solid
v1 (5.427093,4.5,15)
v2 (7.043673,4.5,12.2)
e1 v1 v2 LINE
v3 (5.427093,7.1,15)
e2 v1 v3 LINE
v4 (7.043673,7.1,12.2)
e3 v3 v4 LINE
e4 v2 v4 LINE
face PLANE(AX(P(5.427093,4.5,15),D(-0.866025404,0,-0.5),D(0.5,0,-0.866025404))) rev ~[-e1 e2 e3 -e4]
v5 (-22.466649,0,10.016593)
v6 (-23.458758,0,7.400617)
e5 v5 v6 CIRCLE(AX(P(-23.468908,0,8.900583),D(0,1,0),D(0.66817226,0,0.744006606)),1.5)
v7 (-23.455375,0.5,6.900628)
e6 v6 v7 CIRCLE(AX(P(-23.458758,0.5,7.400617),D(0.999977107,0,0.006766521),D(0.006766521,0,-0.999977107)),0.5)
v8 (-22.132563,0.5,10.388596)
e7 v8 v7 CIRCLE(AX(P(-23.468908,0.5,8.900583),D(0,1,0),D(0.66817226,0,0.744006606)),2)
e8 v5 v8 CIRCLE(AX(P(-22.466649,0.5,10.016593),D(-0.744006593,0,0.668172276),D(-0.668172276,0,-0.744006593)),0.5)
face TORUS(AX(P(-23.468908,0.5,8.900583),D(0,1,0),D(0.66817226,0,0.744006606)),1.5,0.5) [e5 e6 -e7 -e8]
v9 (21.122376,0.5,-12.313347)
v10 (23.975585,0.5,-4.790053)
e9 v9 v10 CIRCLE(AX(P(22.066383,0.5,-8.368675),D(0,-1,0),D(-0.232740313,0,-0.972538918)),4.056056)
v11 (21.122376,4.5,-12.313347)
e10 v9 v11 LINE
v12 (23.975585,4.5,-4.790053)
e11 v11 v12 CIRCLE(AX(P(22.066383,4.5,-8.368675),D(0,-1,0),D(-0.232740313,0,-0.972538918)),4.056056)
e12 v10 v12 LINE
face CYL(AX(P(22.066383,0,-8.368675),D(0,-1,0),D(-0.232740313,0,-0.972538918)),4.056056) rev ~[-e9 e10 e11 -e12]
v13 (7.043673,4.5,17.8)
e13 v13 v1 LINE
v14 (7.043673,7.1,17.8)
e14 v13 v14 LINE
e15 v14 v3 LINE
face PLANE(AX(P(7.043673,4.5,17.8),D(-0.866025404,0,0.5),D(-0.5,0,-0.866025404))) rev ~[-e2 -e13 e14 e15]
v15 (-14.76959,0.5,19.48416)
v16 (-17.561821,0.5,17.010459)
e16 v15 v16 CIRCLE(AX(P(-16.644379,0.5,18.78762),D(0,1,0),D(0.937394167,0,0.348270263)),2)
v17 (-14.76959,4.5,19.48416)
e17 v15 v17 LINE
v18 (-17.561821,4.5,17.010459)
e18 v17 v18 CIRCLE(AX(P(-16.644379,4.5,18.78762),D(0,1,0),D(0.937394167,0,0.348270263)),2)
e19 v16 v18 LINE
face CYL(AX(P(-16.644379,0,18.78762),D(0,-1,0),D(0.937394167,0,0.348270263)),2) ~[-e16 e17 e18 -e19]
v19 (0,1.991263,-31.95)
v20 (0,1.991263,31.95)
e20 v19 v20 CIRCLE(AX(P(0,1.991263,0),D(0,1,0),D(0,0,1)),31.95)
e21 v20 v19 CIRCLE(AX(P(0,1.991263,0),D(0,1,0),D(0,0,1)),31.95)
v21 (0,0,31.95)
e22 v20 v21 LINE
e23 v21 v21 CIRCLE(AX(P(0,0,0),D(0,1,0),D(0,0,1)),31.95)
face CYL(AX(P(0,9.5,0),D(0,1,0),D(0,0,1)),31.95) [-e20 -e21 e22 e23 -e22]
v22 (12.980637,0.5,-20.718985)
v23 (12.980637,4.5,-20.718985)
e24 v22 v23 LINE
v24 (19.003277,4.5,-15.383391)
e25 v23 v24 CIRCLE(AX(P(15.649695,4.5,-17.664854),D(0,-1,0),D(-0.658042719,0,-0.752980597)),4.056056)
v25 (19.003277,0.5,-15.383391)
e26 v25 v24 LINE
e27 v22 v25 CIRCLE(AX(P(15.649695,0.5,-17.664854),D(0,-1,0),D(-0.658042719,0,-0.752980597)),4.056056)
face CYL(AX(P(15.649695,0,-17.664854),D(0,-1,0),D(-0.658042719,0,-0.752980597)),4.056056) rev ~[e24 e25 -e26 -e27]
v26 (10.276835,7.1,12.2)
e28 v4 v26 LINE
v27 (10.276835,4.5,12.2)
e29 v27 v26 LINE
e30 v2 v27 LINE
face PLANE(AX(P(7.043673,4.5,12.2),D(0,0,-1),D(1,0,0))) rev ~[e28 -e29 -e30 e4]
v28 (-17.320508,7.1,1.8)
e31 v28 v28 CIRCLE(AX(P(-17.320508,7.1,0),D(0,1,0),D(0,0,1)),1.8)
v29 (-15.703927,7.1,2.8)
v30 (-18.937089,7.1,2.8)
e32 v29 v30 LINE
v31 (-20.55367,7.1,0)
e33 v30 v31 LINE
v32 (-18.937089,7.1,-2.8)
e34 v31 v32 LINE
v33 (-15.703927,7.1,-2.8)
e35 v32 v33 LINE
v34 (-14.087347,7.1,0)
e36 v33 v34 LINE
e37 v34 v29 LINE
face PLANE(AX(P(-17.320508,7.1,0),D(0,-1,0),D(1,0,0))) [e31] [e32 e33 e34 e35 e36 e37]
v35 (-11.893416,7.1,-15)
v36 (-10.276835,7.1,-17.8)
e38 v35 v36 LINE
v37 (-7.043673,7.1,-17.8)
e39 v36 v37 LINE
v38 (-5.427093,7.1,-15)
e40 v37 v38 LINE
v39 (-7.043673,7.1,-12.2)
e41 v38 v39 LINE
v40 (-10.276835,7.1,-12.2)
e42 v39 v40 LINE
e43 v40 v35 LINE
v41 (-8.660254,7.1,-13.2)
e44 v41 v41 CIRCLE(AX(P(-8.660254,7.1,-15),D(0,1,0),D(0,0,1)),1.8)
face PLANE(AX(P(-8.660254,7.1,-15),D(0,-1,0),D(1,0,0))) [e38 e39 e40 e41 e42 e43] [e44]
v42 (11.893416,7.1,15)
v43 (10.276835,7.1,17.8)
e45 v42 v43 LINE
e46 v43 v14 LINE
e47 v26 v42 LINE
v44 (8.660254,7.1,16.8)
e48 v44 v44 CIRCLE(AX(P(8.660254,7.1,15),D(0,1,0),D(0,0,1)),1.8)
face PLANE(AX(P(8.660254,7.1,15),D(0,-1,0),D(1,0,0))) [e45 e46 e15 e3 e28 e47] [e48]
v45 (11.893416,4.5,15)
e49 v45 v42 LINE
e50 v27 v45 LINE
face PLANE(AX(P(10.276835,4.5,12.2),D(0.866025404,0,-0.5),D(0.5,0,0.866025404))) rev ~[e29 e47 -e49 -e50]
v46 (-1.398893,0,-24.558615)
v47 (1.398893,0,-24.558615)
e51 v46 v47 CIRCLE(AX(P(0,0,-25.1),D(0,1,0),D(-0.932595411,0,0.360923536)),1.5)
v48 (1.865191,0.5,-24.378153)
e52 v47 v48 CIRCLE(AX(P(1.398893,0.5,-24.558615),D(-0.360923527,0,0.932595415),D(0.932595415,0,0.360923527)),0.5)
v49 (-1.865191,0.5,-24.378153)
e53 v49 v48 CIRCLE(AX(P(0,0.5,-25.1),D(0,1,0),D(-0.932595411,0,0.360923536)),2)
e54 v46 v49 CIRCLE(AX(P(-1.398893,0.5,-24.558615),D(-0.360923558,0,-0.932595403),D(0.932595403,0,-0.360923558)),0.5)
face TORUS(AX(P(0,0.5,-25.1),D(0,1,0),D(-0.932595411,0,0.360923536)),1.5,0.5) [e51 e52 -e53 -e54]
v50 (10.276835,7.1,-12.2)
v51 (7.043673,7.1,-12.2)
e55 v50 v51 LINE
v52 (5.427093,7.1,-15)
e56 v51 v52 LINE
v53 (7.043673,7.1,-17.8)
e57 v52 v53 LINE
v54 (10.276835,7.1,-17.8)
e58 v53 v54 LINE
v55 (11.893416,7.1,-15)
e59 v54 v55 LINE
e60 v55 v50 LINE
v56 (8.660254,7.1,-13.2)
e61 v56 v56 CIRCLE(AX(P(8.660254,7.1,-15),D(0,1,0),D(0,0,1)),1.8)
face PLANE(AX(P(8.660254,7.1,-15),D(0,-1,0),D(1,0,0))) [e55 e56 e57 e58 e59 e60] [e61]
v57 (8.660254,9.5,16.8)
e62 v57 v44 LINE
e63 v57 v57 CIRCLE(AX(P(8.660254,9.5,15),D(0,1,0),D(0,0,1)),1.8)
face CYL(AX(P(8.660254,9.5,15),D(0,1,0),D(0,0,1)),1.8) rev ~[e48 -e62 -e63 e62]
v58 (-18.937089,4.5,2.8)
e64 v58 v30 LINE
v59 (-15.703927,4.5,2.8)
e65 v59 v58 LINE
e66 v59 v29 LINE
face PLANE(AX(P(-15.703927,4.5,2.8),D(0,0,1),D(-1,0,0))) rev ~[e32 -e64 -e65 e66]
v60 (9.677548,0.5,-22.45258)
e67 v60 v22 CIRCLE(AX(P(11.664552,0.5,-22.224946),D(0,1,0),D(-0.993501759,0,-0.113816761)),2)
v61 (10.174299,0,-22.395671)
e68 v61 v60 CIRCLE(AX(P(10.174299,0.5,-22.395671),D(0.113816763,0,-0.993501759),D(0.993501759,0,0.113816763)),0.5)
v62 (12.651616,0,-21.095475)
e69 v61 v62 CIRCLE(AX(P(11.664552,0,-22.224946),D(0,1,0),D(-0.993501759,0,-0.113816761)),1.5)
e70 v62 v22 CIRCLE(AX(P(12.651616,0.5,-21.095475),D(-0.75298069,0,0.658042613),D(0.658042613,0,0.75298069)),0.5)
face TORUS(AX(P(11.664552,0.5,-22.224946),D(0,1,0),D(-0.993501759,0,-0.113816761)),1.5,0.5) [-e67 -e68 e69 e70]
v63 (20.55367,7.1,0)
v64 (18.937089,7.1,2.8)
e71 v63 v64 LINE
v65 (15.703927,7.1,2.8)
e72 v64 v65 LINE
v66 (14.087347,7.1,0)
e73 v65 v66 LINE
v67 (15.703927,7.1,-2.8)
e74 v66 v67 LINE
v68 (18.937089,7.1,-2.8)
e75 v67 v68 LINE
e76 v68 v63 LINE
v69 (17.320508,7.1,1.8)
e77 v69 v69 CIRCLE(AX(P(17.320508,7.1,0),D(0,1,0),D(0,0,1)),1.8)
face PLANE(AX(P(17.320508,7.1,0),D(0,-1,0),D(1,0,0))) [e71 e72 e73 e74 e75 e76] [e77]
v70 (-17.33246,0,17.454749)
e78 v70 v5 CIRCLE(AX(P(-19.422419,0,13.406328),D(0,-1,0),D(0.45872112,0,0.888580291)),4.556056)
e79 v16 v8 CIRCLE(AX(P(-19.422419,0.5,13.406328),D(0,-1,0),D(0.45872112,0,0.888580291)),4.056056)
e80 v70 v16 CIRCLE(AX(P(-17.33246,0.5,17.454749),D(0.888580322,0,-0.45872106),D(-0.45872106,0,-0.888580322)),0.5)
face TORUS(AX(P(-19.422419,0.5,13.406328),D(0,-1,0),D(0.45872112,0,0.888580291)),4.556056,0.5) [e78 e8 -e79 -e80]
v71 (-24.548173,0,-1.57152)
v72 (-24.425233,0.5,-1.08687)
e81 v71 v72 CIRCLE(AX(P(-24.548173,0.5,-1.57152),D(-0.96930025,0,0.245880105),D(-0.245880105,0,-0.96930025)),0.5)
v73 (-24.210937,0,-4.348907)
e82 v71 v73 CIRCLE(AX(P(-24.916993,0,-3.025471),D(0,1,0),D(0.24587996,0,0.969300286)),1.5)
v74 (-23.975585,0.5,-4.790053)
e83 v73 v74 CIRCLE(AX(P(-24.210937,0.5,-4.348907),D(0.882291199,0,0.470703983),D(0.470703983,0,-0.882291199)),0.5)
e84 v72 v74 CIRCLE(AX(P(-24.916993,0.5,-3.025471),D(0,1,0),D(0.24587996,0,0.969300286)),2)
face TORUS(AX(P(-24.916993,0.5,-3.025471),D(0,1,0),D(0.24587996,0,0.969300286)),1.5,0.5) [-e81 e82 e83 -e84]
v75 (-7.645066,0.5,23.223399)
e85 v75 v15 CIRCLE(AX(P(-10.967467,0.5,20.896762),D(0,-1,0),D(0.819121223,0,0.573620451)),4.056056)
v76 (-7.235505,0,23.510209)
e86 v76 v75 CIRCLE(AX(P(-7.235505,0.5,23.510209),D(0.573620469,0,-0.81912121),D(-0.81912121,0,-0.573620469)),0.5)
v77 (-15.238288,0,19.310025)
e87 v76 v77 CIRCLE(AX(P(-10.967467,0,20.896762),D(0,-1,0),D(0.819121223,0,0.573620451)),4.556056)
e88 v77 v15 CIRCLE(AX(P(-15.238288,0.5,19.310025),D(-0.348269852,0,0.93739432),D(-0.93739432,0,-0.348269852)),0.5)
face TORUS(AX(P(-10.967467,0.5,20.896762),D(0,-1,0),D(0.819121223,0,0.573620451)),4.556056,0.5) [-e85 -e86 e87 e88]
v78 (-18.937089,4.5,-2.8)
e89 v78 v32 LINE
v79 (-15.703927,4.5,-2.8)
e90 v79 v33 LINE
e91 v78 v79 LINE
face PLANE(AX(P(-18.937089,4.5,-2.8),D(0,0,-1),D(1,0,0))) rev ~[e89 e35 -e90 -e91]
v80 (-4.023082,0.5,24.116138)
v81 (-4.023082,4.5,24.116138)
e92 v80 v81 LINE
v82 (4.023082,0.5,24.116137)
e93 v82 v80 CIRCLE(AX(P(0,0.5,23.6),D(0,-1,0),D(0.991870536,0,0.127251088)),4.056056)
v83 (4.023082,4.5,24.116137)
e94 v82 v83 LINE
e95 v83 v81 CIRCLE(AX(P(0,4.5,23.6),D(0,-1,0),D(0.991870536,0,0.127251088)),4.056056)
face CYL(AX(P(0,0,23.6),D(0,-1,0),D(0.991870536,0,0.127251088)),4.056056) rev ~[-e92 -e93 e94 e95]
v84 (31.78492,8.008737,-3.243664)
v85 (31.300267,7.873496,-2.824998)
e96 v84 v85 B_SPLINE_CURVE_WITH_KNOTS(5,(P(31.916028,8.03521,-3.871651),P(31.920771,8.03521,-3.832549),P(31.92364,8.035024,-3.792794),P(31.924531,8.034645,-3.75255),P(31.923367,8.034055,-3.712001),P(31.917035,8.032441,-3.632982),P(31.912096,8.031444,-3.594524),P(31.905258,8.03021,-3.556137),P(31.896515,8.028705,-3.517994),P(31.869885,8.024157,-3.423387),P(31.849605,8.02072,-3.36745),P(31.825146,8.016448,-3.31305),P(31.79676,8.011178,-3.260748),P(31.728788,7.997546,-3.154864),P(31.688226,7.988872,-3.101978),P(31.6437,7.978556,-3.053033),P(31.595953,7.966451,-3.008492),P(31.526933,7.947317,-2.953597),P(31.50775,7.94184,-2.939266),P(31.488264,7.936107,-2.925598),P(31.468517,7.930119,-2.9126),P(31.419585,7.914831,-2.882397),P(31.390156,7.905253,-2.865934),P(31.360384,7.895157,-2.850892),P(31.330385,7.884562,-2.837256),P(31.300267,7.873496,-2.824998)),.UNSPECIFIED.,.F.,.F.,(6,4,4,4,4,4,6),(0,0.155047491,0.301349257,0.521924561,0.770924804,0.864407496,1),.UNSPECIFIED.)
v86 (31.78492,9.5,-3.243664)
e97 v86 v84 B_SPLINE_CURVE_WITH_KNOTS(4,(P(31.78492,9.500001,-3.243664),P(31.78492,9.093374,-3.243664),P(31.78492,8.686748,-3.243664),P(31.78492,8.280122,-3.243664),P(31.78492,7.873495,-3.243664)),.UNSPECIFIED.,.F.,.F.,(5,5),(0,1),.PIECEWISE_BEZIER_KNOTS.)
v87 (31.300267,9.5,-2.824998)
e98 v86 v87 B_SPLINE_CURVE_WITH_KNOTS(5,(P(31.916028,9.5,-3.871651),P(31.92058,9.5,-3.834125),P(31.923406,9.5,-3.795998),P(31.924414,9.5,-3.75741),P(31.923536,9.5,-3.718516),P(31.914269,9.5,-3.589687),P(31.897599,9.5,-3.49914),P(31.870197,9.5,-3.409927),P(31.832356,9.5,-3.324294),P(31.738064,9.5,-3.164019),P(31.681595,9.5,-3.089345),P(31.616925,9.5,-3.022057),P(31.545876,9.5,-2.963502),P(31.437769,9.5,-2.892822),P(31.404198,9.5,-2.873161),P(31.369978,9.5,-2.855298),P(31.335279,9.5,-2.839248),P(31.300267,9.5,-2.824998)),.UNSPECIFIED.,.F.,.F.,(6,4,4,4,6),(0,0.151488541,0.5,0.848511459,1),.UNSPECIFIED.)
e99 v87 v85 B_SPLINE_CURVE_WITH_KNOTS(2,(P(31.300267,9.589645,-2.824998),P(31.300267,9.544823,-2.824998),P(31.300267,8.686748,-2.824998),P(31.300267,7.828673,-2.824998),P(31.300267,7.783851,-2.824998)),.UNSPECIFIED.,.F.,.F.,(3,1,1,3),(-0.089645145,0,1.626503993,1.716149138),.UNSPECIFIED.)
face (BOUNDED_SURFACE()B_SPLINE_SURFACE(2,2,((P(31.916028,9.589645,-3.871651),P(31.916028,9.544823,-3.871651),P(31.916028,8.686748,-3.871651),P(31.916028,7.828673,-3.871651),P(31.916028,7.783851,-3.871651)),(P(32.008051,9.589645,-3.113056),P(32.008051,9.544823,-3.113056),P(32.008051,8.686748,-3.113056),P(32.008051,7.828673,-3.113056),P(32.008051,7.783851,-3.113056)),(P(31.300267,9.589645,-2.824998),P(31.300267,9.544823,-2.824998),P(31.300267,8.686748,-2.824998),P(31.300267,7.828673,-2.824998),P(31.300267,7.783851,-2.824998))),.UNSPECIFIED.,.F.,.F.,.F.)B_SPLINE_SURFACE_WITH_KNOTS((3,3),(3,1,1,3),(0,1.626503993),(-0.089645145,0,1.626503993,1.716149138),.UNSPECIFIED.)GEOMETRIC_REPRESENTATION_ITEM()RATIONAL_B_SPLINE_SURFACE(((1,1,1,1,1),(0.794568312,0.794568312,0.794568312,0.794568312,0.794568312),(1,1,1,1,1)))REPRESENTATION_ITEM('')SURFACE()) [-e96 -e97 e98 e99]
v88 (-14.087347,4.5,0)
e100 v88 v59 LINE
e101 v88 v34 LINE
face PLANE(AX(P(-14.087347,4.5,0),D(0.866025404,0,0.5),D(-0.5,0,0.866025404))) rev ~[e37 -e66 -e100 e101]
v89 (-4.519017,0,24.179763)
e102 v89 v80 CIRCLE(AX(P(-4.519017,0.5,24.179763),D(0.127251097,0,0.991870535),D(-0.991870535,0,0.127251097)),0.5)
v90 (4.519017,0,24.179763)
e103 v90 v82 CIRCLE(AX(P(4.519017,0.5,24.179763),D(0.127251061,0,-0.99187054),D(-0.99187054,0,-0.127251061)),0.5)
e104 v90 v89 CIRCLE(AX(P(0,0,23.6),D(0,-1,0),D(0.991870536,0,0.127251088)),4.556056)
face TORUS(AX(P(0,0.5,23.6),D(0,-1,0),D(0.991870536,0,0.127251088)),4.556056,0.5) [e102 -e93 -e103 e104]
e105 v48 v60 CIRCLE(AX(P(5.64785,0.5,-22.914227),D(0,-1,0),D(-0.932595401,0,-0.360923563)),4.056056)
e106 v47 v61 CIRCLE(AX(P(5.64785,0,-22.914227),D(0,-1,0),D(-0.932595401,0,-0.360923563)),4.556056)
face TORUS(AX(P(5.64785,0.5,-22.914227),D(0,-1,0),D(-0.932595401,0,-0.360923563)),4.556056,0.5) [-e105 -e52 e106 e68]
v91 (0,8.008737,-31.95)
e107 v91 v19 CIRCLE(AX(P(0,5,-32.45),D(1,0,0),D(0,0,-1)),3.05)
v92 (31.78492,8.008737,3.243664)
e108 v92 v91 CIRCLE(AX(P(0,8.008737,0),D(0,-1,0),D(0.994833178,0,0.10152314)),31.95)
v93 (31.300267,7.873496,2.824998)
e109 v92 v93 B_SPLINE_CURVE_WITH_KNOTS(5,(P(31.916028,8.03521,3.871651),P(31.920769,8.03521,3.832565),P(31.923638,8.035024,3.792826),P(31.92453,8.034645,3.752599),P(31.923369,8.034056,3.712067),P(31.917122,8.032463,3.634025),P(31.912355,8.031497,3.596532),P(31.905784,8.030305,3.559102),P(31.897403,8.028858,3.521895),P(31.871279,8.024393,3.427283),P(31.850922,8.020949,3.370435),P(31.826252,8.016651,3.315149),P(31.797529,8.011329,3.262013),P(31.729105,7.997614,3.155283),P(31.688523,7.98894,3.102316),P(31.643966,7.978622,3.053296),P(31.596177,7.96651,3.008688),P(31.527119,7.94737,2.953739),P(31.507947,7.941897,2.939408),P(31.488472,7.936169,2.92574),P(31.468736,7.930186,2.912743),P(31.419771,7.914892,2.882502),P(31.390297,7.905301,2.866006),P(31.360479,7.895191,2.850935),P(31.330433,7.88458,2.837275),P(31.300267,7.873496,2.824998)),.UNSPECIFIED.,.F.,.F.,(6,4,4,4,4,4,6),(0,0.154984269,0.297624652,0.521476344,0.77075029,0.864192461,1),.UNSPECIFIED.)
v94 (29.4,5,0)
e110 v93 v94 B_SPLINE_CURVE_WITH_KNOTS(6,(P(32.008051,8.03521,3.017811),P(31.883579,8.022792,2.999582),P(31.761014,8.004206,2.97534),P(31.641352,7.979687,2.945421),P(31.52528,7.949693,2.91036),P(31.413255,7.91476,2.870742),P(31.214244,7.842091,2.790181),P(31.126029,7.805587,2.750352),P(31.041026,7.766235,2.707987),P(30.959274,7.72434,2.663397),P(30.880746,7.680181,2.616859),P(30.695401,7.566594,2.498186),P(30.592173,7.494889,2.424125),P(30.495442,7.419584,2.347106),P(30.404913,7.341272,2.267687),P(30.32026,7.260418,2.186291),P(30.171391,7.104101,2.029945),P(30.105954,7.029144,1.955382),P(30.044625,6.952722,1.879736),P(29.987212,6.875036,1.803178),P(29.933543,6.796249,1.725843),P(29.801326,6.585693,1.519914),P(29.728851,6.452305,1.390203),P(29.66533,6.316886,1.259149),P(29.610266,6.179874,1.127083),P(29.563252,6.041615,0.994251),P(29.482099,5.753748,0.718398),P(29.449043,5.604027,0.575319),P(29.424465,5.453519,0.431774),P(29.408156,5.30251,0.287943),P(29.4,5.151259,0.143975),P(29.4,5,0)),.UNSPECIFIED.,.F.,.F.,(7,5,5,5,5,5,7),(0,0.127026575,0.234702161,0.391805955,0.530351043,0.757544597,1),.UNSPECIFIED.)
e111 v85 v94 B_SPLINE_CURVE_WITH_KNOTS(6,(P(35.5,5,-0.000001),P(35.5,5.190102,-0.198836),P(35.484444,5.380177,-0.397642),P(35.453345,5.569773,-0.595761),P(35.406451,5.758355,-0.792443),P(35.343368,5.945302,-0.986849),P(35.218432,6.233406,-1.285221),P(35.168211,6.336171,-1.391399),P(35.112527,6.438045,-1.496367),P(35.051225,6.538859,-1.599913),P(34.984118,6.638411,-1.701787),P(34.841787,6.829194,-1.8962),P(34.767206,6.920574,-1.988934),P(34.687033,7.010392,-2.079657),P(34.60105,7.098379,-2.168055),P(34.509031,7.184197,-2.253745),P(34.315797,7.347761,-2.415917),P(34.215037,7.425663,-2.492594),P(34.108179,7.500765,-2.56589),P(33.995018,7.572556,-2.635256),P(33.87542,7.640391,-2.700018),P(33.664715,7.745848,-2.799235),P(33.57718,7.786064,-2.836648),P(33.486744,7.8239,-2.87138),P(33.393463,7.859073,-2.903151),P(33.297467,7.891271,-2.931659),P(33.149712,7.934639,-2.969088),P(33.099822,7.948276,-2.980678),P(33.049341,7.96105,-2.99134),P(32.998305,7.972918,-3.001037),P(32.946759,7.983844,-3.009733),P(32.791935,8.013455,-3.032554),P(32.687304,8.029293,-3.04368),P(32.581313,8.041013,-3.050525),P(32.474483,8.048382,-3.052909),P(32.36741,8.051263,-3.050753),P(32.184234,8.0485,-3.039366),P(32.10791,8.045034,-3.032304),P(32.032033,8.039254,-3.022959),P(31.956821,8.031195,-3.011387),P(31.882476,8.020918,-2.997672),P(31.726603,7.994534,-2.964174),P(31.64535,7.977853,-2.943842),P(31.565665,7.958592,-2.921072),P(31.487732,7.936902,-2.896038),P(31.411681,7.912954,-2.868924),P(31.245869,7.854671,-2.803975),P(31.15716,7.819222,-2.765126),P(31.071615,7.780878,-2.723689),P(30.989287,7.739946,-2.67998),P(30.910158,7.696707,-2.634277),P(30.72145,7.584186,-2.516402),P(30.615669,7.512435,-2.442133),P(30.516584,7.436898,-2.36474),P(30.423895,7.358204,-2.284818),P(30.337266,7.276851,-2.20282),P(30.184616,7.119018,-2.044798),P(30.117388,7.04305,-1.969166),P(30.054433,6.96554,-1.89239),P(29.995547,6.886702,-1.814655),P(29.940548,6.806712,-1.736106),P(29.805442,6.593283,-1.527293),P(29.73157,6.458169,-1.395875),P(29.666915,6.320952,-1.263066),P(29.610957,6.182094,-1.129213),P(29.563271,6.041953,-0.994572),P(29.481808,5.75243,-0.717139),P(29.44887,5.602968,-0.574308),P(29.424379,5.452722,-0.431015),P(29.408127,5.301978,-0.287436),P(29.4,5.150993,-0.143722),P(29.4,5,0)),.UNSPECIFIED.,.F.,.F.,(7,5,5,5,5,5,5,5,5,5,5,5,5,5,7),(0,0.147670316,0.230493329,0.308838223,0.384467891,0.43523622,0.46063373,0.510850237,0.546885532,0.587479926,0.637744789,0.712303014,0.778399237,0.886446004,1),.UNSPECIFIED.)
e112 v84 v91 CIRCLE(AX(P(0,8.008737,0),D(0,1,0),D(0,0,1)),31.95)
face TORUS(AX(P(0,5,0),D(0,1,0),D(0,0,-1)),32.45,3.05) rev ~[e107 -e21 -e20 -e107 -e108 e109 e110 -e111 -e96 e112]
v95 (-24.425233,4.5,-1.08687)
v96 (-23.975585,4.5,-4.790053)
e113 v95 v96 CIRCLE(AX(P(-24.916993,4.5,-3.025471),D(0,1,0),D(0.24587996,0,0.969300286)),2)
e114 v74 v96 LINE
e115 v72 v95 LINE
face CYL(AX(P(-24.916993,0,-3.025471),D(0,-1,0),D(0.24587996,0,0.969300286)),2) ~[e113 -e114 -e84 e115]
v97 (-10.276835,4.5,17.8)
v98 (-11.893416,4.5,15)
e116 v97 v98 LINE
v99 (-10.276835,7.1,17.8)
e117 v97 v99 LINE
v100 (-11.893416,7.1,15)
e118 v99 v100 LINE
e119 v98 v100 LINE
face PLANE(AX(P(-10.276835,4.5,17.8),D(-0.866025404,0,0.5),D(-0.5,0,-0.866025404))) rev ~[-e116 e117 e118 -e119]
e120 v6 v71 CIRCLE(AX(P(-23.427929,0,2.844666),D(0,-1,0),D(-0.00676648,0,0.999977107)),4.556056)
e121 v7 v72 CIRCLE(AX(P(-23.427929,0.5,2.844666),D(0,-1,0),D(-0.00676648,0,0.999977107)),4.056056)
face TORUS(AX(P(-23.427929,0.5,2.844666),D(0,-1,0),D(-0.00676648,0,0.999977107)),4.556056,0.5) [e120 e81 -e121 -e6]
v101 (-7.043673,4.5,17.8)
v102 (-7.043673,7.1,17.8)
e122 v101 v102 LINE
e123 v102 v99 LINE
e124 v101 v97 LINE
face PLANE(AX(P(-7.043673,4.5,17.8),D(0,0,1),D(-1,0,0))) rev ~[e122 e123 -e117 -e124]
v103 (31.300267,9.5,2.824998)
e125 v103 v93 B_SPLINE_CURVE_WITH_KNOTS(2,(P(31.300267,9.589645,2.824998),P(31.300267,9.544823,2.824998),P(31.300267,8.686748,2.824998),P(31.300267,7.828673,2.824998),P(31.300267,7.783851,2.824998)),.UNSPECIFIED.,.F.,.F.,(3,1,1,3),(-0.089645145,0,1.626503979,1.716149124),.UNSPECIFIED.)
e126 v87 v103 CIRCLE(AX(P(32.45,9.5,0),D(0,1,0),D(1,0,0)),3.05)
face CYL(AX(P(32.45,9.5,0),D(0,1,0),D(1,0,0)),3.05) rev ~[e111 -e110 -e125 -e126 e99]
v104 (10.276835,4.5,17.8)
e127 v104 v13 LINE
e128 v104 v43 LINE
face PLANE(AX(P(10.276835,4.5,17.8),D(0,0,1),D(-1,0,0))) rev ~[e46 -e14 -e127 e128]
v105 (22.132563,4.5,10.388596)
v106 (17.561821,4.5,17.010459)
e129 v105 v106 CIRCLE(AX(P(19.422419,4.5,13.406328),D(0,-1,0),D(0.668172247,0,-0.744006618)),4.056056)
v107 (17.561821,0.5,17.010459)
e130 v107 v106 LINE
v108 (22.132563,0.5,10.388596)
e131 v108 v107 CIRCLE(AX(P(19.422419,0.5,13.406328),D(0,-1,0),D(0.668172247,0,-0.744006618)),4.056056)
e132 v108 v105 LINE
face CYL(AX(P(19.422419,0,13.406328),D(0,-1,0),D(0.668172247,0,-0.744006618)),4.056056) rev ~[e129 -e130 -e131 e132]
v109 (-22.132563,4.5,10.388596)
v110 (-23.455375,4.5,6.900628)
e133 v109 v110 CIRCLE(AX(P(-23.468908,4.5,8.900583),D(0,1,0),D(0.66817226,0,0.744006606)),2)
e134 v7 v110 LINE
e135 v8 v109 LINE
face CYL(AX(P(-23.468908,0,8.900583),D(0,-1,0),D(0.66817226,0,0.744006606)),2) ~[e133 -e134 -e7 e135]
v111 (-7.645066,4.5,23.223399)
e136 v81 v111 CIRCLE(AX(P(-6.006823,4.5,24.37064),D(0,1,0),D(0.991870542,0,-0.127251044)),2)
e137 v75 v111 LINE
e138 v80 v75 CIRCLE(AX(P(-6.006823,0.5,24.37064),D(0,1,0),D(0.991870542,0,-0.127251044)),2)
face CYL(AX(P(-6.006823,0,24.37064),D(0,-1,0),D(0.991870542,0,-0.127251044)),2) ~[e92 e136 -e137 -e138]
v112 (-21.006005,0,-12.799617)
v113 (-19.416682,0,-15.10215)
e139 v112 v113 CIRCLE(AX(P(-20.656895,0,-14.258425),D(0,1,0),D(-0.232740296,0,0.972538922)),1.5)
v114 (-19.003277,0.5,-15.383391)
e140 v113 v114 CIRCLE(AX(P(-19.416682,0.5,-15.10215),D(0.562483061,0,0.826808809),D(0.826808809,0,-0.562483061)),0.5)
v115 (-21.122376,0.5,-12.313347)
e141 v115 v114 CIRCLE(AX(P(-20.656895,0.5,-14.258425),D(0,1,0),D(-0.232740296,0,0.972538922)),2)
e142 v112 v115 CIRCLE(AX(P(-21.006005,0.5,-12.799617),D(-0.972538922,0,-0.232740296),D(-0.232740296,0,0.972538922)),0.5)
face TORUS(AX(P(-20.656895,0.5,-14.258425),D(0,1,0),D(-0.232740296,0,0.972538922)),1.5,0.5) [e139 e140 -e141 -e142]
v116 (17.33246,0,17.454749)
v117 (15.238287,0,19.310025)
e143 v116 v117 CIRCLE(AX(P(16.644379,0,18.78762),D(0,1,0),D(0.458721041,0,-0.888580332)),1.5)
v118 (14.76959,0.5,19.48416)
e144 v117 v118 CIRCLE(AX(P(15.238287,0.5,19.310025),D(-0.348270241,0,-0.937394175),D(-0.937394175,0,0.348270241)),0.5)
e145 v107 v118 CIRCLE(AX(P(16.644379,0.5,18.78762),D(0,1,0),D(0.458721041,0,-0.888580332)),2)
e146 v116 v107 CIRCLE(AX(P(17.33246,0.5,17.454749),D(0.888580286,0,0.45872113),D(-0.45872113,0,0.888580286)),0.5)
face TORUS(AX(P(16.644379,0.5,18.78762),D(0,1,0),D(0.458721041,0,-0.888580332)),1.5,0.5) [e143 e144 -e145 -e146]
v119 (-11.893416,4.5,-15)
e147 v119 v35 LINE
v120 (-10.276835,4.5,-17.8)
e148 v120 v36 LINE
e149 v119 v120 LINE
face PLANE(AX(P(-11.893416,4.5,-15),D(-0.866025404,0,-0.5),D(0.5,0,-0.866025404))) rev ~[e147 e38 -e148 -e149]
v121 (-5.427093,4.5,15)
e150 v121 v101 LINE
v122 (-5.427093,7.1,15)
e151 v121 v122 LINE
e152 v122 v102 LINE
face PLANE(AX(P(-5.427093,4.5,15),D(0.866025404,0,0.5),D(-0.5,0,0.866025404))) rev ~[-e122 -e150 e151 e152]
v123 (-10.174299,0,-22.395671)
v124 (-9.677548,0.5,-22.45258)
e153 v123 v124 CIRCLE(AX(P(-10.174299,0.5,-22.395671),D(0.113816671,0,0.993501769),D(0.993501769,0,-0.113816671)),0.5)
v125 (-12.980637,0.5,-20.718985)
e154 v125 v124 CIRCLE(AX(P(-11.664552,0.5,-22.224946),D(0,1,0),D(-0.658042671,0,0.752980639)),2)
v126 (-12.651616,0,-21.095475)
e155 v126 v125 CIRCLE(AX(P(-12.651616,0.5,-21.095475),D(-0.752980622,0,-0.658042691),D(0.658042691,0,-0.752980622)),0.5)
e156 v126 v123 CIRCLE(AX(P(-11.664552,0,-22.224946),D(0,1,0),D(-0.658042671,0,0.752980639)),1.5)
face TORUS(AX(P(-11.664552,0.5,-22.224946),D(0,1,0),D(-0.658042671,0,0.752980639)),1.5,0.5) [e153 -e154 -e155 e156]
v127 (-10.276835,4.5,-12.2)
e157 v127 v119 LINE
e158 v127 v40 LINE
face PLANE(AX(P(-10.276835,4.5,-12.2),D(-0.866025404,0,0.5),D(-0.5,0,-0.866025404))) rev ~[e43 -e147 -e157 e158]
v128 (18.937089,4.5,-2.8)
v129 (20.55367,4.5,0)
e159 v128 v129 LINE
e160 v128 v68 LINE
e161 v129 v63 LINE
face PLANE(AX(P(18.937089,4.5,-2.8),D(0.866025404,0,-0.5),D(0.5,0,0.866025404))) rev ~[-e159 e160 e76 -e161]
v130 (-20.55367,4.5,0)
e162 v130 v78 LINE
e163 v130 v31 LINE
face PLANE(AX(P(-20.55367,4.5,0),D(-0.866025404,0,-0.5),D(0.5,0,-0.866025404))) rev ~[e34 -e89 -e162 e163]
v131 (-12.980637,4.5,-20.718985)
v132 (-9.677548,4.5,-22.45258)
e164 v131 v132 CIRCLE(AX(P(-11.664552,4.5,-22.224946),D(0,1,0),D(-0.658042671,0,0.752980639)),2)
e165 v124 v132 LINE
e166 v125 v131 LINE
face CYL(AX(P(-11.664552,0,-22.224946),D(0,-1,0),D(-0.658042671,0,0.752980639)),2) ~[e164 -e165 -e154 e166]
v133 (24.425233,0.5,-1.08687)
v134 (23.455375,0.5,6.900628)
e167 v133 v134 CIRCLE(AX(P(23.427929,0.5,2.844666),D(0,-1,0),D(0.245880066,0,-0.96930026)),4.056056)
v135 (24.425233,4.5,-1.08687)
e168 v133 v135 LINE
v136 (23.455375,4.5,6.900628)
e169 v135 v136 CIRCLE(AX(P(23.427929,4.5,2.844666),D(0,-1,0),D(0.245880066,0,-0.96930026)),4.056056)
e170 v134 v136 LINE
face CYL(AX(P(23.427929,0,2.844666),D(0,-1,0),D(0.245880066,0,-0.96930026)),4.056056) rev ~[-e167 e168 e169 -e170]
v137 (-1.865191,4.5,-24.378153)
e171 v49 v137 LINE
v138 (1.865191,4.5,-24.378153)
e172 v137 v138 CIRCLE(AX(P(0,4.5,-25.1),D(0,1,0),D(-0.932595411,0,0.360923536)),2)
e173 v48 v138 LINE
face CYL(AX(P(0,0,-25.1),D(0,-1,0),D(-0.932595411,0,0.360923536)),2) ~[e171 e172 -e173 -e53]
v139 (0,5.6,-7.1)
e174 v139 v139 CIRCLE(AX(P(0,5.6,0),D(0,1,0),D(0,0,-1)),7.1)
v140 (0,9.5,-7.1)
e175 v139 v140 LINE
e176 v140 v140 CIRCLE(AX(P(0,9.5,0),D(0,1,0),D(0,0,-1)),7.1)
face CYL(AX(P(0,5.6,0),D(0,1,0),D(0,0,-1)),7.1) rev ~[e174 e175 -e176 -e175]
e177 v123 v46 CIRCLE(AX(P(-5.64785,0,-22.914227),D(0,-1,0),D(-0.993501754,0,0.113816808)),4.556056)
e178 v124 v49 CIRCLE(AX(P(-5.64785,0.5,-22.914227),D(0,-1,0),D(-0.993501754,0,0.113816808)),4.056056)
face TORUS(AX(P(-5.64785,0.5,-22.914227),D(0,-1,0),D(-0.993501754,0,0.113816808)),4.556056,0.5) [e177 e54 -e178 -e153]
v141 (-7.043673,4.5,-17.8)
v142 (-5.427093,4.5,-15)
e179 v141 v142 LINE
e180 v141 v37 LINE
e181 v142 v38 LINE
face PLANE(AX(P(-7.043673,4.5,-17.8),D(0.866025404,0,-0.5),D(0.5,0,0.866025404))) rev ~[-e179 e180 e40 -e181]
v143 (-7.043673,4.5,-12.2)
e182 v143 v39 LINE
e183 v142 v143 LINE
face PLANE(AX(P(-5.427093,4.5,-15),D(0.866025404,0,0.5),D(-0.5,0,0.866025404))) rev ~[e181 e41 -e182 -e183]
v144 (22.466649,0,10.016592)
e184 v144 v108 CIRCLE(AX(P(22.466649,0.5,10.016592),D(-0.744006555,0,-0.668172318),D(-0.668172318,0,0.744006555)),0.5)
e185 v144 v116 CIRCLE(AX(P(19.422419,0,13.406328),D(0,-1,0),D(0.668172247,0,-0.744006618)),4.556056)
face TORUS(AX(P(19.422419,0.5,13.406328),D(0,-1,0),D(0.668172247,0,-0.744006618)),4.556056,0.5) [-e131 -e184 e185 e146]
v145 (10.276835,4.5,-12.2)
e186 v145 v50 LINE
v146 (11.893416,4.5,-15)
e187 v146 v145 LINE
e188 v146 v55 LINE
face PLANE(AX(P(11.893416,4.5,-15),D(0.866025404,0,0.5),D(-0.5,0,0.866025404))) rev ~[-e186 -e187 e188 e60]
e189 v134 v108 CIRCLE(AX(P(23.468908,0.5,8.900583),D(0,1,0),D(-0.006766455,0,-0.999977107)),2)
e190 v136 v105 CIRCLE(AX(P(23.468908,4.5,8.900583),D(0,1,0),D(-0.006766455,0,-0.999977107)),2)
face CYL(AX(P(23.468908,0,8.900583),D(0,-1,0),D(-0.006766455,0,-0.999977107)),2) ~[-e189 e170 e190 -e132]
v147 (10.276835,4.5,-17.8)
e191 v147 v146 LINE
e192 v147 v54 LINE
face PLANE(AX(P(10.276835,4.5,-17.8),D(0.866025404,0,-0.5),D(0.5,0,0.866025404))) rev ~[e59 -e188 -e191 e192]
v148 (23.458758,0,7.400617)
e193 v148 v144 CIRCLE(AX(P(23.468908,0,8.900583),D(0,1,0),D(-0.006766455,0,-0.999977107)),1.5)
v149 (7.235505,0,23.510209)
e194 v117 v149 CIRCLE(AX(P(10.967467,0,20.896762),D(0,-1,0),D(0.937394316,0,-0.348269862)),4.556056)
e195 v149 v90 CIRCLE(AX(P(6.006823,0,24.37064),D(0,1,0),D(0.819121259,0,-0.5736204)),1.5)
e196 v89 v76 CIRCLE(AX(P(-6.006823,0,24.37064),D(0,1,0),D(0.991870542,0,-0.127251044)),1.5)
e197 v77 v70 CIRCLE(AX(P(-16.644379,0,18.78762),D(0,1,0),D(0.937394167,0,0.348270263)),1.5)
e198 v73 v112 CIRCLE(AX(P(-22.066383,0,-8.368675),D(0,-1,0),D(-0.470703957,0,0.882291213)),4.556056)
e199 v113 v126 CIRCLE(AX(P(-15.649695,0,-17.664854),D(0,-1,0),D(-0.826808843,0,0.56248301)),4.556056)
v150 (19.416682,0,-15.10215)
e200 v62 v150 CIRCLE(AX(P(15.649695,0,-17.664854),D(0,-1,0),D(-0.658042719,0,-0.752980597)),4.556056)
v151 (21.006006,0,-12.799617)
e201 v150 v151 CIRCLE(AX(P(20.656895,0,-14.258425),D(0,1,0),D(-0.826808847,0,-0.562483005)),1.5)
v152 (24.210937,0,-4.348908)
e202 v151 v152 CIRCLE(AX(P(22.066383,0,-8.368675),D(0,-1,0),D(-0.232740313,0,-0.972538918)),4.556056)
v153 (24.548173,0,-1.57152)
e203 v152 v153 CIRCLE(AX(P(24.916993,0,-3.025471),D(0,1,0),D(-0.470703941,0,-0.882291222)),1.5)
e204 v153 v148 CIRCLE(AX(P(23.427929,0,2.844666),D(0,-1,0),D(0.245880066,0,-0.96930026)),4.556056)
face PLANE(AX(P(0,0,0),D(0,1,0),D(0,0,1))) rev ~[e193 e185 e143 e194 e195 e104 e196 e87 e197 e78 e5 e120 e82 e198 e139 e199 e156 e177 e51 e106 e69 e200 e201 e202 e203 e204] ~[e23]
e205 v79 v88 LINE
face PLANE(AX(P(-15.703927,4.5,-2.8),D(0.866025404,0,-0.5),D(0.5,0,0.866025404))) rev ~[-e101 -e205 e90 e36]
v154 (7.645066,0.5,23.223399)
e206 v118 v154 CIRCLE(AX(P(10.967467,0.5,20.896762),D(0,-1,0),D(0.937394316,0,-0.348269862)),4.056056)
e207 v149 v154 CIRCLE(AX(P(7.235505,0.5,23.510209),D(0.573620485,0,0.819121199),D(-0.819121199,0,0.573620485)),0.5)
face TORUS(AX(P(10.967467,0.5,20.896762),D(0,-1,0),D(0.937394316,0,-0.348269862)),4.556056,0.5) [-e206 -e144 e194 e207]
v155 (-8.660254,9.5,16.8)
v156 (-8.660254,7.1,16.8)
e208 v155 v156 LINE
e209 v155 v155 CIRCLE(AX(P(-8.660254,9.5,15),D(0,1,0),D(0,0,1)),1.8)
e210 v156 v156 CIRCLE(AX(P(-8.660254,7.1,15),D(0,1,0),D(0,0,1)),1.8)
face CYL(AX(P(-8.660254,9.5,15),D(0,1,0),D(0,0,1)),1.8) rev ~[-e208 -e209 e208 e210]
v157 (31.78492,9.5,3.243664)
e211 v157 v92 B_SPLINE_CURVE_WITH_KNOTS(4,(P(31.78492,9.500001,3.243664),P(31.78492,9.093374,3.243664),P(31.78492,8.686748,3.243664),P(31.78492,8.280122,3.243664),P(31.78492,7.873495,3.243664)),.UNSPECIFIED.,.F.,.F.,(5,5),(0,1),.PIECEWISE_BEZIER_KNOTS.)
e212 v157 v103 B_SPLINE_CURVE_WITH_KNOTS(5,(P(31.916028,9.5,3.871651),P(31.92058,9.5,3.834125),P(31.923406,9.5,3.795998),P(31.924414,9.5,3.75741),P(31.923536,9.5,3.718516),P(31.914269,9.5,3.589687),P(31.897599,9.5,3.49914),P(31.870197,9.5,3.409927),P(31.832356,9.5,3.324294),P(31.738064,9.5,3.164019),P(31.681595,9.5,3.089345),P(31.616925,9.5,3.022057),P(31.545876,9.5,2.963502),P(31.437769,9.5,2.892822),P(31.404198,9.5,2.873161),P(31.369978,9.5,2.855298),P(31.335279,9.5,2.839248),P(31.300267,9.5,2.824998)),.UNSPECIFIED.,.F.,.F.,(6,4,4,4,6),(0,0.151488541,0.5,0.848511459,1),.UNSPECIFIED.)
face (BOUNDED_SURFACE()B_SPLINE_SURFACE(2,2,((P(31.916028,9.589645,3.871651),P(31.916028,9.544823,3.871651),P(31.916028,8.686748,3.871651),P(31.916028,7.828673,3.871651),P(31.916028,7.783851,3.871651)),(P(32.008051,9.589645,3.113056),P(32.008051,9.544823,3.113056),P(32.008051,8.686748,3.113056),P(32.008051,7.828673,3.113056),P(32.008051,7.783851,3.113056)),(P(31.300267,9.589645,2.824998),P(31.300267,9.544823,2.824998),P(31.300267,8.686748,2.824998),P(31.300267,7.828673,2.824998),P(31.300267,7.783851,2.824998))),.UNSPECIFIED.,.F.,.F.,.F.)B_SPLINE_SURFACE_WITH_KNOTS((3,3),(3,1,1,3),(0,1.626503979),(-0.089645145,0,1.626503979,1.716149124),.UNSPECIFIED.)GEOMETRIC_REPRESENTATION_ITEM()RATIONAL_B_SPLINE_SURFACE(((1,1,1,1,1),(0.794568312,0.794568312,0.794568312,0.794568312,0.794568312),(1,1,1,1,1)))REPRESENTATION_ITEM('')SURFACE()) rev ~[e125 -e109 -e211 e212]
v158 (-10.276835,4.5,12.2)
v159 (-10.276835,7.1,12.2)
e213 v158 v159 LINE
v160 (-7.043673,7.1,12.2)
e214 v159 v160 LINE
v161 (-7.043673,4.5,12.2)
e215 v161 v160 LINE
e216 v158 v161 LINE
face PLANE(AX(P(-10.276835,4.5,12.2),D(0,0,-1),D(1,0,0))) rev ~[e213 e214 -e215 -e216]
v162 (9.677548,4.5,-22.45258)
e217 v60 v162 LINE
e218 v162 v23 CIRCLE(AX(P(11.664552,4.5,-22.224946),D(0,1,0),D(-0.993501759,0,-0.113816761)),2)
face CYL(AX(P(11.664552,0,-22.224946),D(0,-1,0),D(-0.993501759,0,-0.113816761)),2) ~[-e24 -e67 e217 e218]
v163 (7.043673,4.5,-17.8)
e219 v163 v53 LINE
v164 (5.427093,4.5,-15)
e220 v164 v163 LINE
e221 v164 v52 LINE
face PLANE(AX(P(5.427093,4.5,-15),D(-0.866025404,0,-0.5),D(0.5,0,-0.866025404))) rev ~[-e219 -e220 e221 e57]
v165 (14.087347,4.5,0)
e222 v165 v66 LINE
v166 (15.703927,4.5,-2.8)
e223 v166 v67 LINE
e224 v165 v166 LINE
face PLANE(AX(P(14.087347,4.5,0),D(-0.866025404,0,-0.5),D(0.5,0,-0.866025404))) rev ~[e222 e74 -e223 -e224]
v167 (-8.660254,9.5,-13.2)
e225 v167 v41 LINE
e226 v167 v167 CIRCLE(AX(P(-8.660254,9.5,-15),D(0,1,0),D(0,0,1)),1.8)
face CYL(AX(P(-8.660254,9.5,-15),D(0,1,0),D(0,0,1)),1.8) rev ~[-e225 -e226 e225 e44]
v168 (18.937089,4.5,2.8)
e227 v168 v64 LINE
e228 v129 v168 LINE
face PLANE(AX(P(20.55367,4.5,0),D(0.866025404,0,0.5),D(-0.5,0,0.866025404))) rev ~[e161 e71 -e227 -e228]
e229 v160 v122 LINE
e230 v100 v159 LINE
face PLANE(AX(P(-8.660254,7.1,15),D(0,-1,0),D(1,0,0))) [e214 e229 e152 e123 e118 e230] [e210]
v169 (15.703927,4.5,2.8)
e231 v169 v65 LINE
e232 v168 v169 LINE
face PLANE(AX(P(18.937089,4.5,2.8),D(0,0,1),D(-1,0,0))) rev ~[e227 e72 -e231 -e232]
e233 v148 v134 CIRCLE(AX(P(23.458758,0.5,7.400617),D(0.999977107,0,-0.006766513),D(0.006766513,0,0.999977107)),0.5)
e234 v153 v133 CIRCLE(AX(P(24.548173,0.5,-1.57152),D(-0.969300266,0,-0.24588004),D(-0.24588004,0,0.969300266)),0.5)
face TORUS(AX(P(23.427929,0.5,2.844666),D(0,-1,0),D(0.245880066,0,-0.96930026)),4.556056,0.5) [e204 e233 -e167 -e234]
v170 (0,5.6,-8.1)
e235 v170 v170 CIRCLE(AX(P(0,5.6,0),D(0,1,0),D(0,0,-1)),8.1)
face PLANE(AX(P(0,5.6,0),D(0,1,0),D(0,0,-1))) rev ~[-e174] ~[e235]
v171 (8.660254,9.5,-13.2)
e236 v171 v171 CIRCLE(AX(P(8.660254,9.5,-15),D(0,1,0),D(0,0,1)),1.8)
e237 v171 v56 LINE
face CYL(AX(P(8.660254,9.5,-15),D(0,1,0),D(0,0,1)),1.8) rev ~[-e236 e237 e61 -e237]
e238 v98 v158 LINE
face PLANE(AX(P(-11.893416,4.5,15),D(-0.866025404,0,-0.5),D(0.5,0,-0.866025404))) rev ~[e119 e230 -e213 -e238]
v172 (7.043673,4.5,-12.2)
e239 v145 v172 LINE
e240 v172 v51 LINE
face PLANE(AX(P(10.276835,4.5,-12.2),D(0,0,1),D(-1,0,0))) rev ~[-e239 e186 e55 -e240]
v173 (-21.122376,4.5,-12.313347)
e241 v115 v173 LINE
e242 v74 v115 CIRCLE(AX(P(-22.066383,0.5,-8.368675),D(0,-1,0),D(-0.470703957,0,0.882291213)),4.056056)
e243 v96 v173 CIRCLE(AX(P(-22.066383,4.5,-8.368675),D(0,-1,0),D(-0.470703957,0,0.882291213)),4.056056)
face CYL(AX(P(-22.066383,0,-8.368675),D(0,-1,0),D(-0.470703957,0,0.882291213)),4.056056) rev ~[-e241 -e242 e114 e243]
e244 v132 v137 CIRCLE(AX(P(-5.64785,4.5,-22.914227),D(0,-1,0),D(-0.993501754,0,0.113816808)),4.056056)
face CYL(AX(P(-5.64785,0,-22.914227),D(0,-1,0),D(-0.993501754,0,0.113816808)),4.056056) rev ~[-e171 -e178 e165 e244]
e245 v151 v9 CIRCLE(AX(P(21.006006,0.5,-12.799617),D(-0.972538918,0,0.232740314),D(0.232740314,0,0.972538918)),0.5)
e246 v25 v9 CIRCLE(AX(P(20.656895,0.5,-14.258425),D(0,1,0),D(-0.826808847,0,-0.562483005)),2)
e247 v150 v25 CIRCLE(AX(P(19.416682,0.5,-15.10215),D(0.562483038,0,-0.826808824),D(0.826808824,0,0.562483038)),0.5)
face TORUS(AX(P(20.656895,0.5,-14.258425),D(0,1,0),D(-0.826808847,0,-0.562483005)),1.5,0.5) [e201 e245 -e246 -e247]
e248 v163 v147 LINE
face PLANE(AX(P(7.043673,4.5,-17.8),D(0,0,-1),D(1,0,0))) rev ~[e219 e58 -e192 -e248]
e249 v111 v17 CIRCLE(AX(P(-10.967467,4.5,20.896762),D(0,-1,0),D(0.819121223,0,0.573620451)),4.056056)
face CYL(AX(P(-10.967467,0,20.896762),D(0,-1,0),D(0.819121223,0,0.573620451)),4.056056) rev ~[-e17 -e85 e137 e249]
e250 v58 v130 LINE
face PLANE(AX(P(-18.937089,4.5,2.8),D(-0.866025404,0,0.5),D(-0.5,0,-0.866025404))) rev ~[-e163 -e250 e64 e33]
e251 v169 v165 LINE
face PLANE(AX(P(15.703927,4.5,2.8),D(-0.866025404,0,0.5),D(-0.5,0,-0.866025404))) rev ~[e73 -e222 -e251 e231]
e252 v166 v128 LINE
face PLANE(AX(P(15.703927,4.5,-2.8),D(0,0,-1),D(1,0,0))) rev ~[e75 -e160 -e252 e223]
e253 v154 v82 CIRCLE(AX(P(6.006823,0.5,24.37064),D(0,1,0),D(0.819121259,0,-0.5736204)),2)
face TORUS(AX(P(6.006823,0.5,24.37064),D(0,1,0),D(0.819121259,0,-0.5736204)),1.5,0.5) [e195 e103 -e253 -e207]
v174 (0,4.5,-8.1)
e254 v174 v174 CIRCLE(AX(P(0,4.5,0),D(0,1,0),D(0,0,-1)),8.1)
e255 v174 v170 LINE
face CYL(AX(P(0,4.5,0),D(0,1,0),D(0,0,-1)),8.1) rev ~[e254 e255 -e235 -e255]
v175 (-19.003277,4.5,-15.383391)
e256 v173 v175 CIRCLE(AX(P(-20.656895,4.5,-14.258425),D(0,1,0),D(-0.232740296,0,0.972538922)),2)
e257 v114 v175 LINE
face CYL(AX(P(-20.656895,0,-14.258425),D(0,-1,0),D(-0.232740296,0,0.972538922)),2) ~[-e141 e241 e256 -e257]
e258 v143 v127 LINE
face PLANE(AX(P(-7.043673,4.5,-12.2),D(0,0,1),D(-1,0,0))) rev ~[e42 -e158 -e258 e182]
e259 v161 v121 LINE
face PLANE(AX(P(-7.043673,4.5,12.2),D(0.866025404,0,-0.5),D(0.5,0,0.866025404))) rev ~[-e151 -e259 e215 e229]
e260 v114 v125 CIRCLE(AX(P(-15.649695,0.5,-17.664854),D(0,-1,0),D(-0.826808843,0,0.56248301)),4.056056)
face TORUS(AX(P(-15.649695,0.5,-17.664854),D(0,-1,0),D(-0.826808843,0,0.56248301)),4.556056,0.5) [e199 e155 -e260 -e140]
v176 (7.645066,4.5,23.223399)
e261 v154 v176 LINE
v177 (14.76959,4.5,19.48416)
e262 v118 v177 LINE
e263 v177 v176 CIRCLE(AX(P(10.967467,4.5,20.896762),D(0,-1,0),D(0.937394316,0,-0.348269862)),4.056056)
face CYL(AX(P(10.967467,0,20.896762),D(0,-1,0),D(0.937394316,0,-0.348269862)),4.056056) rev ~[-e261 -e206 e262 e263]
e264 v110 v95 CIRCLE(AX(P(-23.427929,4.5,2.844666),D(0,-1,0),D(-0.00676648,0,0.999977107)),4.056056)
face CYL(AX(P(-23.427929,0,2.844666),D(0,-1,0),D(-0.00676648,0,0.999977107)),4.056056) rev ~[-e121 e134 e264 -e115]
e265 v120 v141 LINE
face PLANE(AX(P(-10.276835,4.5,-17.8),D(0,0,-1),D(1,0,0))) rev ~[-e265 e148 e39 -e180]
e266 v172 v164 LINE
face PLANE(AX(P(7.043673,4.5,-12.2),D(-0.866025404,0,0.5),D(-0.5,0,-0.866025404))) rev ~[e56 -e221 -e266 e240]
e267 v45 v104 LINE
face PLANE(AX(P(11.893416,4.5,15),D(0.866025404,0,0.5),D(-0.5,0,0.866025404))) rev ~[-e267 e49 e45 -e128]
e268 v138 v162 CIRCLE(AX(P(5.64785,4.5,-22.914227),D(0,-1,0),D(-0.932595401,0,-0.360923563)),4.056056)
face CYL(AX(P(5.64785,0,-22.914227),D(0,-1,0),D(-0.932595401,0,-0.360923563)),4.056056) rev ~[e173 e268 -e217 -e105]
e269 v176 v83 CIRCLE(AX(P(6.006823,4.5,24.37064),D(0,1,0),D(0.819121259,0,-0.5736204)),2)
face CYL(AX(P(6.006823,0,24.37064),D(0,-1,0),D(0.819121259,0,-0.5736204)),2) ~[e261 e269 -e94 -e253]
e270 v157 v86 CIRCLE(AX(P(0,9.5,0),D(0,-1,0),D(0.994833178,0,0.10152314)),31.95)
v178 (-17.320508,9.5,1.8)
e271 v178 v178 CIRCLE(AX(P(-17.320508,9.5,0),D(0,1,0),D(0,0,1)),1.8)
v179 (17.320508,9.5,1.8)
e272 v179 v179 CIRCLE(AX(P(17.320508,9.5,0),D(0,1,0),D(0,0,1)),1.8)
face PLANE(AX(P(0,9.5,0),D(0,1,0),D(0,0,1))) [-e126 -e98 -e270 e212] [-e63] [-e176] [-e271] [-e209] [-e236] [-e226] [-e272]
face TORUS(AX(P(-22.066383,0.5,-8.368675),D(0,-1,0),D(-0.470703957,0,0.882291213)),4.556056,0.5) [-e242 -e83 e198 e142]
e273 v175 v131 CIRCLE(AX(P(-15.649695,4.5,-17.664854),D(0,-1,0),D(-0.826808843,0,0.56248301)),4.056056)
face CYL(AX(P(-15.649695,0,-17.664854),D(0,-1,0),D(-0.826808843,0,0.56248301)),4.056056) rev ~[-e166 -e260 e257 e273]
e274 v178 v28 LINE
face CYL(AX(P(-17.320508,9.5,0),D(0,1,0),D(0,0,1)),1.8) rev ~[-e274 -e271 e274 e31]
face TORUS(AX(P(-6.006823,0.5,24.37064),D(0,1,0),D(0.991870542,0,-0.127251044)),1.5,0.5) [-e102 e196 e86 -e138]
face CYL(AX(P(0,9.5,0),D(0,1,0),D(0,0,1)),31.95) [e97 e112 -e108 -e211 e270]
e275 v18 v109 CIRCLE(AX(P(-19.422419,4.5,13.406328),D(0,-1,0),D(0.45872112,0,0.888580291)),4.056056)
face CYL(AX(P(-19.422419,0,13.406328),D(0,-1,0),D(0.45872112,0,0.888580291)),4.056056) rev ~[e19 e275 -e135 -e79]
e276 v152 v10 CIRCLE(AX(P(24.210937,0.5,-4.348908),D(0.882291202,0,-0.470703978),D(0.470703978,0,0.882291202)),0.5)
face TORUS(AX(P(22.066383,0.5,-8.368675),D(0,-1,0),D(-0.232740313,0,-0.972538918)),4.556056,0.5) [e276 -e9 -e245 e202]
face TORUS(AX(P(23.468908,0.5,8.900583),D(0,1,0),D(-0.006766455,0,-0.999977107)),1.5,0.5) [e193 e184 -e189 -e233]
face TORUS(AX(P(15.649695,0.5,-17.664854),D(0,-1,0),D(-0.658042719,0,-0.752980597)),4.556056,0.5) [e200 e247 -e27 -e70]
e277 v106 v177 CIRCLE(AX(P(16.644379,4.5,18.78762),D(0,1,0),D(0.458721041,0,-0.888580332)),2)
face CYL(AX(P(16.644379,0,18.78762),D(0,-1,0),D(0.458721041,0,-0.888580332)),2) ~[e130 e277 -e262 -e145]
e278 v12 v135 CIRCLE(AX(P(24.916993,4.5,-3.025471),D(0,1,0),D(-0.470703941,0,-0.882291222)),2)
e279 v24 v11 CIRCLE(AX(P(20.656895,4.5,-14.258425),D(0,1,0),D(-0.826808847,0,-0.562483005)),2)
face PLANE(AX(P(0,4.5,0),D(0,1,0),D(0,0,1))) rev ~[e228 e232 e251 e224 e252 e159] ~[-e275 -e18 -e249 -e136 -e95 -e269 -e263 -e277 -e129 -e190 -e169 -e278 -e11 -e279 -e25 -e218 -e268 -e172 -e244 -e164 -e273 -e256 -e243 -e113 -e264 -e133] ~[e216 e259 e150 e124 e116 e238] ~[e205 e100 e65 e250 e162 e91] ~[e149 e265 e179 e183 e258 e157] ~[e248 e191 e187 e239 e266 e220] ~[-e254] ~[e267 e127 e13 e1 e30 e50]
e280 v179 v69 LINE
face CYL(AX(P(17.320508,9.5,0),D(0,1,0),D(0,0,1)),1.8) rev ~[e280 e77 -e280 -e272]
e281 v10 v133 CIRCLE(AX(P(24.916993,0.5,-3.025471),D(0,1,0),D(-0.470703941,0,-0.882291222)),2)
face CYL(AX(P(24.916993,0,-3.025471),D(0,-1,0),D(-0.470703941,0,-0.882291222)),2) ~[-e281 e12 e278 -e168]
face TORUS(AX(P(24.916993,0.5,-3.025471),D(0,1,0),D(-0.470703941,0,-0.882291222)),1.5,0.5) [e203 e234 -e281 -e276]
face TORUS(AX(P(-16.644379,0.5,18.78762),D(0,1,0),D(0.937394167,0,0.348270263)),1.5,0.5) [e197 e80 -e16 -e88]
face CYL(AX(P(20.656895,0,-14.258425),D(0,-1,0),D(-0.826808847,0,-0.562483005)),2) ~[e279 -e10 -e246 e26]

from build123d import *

# Parameters (mm, degrees)
SKETCH1_R                     = 32.15
BOSS_EXTRUDE1_DEPTH           = 4.5
SKETCH2_R                     = 32.15
SKETCH2_R_2                   = 4
BOSS_EXTRUDE2_DEPTH           = 5
SKETCH3_R                     = 1.8
CUT_EXTRUDE1_DEPTH            = 47.448842827
SKETCH7_R                     = 3.05
CUT_EXTRUDE2_REACH            = 48.449
CUT_EXTRUDE2_END_MAJOR_RADIUS = 32.45
CUT_EXTRUDE2_END_MINOR_RADIUS = 3.05
SKETCH8_R                     = 3.05
FILLET1_R                     = 1
FILLET2_R                     = 0.5
CUT_EXTRUDE3_DEPTH            = 2.6
SKETCH11_OUTSIDE_W            = 84.586
SKETCH11_OUTSIDE_H            = 84.586
SKETCH11_OUTSIDE_R            = 31.95
CUT_EXTRUDE5_DEPTH            = 47.448842986


with BuildPart() as part:
    # Sketch1 → Boss-Extrude1 (new body)
    with BuildSketch(Plane(origin=(0, 0, 0), x_dir=(1, 0, 0), z_dir=(0, 1, 0))):
        with Locations(Location((0, 0, 0), (0, 0, 270))):
            Circle(SKETCH1_R)
        with BuildLine():
            ThreePointArc((-1.865190823, 24.378152928), (1e-08, 23.1), (1.86519083, 24.378152947))
            ThreePointArc((1.86519083, 24.378152947), (6.618527356, 26.852420931), (9.677548101, 22.452579767))
            ThreePointArc((9.677548101, 22.452579767), (10.735105192, 20.454034236), (12.980636845, 20.718984864))
            ThreePointArc((12.980636845, 20.718984864), (18.33935709, 20.700854952), (19.00327734, 15.383391153))
            ThreePointArc((19.00327734, 15.383391153), (19.010927318, 13.122295627), (21.122375663, 12.313347308))
            ThreePointArc((21.122375663, 12.313347308), (25.858861233, 9.806972516), (23.975584858, 4.790053118))
            ThreePointArc((23.975584858, 4.790053118), (22.93157499, 2.784397325), (24.425232659, 1.086870142))
            ThreePointArc((24.425232659, 1.086870142), (27.454411871, -3.333569115), (23.455374783, -6.90062845))
            ThreePointArc((23.455374783, -6.90062845), (21.598875243, -8.191372795), (22.132563056, -10.388595774))
            ThreePointArc((22.132563056, -10.388595774), (22.760487594, -15.710430252), (17.561820805, -17.010459115))
            ThreePointArc((17.561820805, -17.010459115), (15.318133153, -17.290598506), (14.769590372, -19.484160262))
            ThreePointArc((14.769590372, -19.484160262), (12.85240973, -24.488221216), (7.645065691, -23.223398817))
            ThreePointArc((7.645065691, -23.223398817), (5.528191895, -22.42875597), (4.023082094, -24.116137495))
            ThreePointArc((4.023082094, -24.116137495), (1.8e-08, -27.656055652), (-4.02308209, -24.11613753))
            ThreePointArc((-4.02308209, -24.11613753), (-5.528191796, -22.428755995), (-7.645065594, -23.223398679))
            ThreePointArc((-7.645065594, -23.223398679), (-12.852409636, -24.488221266), (-14.769590388, -19.484160304))
            ThreePointArc((-14.769590388, -19.484160304), (-15.318133152, -17.290598507), (-17.561820842, -17.010459135))
            ThreePointArc((-17.561820842, -17.010459135), (-22.760487562, -15.710430298), (-22.13256317, -10.388595877))
            ThreePointArc((-22.13256317, -10.388595877), (-21.598875191, -8.191372929), (-23.455374648, -6.900628451))
            ThreePointArc((-23.455374648, -6.900628451), (-27.454411853, -3.333569265), (-24.425232819, 1.086870102))
            ThreePointArc((-24.425232819, 1.086870102), (-22.931575006, 2.784397195), (-23.975584774, 4.790053073))
            ThreePointArc((-23.975584774, 4.790053073), (-25.858861243, 9.80697249), (-21.122375626, 12.313347299))
            ThreePointArc((-21.122375626, 12.313347299), (-19.010927268, 13.122295699), (-19.003277417, 15.383391265))
            ThreePointArc((-19.003277417, 15.383391265), (-18.339357096, 20.700854947), (-12.98063696, 20.718984965))
            ThreePointArc((-12.98063696, 20.718984965), (-10.73510534, 20.454034158), (-9.67754808, 22.452579586))
            ThreePointArc((-9.67754808, 22.452579586), (-6.618527435, 26.852420912), (-1.865190823, 24.378152928))
        make_face(mode=Mode.SUBTRACT)
    extrude(amount=BOSS_EXTRUDE1_DEPTH)

    # Sketch2 → Boss-Extrude2 (add)
    with BuildSketch(Plane(origin=(0, 4.5, 0), x_dir=(1, 0, 0), z_dir=(0, 1, 0))):
        with Locations(Location((0, 0, 0), (0, 0, 270))):
            Circle(SKETCH2_R)
        with Locations(Location((0, 0, 0), (0, 0, 270))):
            Circle(SKETCH2_R_2, mode=Mode.SUBTRACT)
    extrude(amount=BOSS_EXTRUDE2_DEPTH)

    # Sketch3 → Cut-Extrude1 (cut, through all)
    with BuildSketch(Plane(origin=(0, 9.5, 0), x_dir=(1, 0, 0), z_dir=(0, 1, 0))):
        with Locations(Location((-8.660254038, 15, 0), (0, 0, 270))):
            Circle(SKETCH3_R)
        with Locations(Location((8.660254038, 15, 0), (0, 0, 270))):
            Circle(SKETCH3_R)
        with Locations(Location((17.320508076, 0, 0), (0, 0, 270))):
            Circle(SKETCH3_R)
        with Locations(Location((8.660254038, -15, 0), (0, 0, 270))):
            Circle(SKETCH3_R)
        with Locations(Location((-8.660254038, -15, 0), (0, 0, 270))):
            Circle(SKETCH3_R)
        with Locations(Location((-17.320508076, 0, 0), (0, 0, 270))):
            Circle(SKETCH3_R)
    extrude(amount=-CUT_EXTRUDE1_DEPTH, mode=Mode.SUBTRACT)

    # Sketch5 → Cut-Revolve1 (revolve, cut)
    with BuildSketch(Plane.XY, mode=Mode.PRIVATE) as cut_revolve1_sk:
        Polygon((-3, 11.5), (-3, 4.5), (-8.1, 4.5), (-8.1, 5.6), (-7.1, 5.6), (-7.1, 11.5), align=None)
    revolve(cut_revolve1_sk.sketch.rotate(Axis((0, 0, 0), (0, 1, 0)), 270), axis=Axis((0, 0, 0), (0, 1, 0)), mode=Mode.SUBTRACT)

    # Sketch7 → Cut-Revolve2 (revolve, cut)
    with BuildSketch(Plane.XY, mode=Mode.PRIVATE) as cut_revolve2_sk:
        with Locations((32.45, 5)):
            Circle(SKETCH7_R)
    revolve(cut_revolve2_sk.sketch.rotate(Axis((0, 0, 0), (0, 1, 0)), 90), axis=Axis((0, 0, 0), (0, 1, 0)), mode=Mode.SUBTRACT)

    # Cut-Extrude2: up to this torus (the profile starts outside it)
    cut_extrude2_end = Plane(origin=(0, 5, 0), z_dir=(0, -1, 0)) * Torus(CUT_EXTRUDE2_END_MAJOR_RADIUS, CUT_EXTRUDE2_END_MINOR_RADIUS, mode=Mode.PRIVATE)
    # Sketch8 → Cut-Extrude2 (cut, up to the surface)
    with BuildSketch(Plane(origin=(0, 9.5, 0), x_dir=(1, 0, 0), z_dir=(0, 1, 0)), mode=Mode.PRIVATE) as cut_extrude2_sk1:
        with Locations((32.45, 0)):
            Circle(SKETCH8_R)
    cut_extrude2_tool1 = extrude(cut_extrude2_sk1.sketch, amount=-CUT_EXTRUDE2_REACH, mode=Mode.PRIVATE) - cut_extrude2_end
    add(cut_extrude2_tool1.solids().sort_by_distance((32.45, 9.5, 0))[0], mode=Mode.SUBTRACT)

    # Fillet1
    fillet1_edges = [part.edges().sort_by_distance(p)[0] for p in [
        (32.008050847, 8.767605021, 3.017810621),
        (32.008050847, 8.767605022, -3.017810621),
    ]]
    fillet(fillet1_edges, radius=FILLET1_R)

    # Fillet2
    fillet2_edges = [part.edges().sort_by_distance(p)[0] for p in [
        (-19.010927268, 0, -13.122295699),
        (-25.858861243, 0, -9.80697249),
        (-22.931575006, 0, -2.784397195),
        (-27.454411853, 0, 3.333569265),
        (-21.598875191, 0, 8.191372929),
        (-22.760487562, 0, 15.710430298),
        (-15.318133152, 0, 17.290598507),
        (-12.852409636, 0, 24.488221266),
        (-5.528191796, 0, 22.428755995),
        (1.8e-08, 0, 27.656055652),
        (5.528191895, 0, 22.42875597),
        (12.85240973, 0, 24.488221216),
        (15.318133153, 0, 17.290598506),
        (22.760487594, 0, 15.710430252),
        (21.598875243, 0, 8.191372795),
        (27.454411871, 0, 3.333569115),
        (22.93157499, 0, -2.784397325),
        (25.858861233, 0, -9.806972516),
        (19.010927318, 0, -13.122295627),
        (18.33935709, 0, -20.700854952),
        (10.735105192, 0, -20.454034236),
        (6.618527356, 0, -26.852420931),
        (1e-08, 0, -23.1),
        (-6.618527435, 0, -26.852420912),
        (-10.73510534, 0, -20.454034158),
        (-18.339357096, 0, -20.700854947),
    ]]
    fillet(fillet2_edges, radius=FILLET2_R)

    # Sketch9 → Cut-Extrude3 (cut)
    with BuildSketch(Plane.XZ.offset(-4.5)):
        Polygon((11.893415545, -15), (10.276834792, -12.2), (7.043673284, -12.2), (5.42709253, -15), (7.043673284, -17.8), (10.276834792, -17.8), align=None)
        Polygon((20.553669583, 0), (18.937088829, 2.8), (15.703927322, 2.8), (14.087346568, 0), (15.703927322, -2.8), (18.937088829, -2.8), align=None)
        Polygon((-7.043673284, -17.8), (-5.42709253, -15), (-7.043673284, -12.2), (-10.276834792, -12.2), (-11.893415545, -15), (-10.276834792, -17.8), align=None)
        Polygon((-18.937088829, -2.8), (-15.703927322, -2.8), (-14.087346568, 0), (-15.703927322, 2.8), (-18.937088829, 2.8), (-20.553669583, 0), align=None)
        Polygon((-11.893415545, 15), (-10.276834792, 12.2), (-7.043673284, 12.2), (-5.42709253, 15), (-7.043673284, 17.8), (-10.276834792, 17.8), align=None)
        Polygon((7.043673284, 17.8), (5.42709253, 15), (7.043673284, 12.2), (10.276834792, 12.2), (11.893415545, 15), (10.276834792, 17.8), align=None)
    extrude(amount=-CUT_EXTRUDE3_DEPTH, mode=Mode.SUBTRACT)

    # Sketch11 outside → Cut-Extrude5 (cut, through all)
    with BuildSketch(Plane(origin=(0, 9.5, 0), x_dir=(1, 0, 0), z_dir=(0, 1, 0))):
        Rectangle(SKETCH11_OUTSIDE_W, SKETCH11_OUTSIDE_H)
        with Locations(Location((0, 0, 0), (0, 0, 270))):
            Circle(SKETCH11_OUTSIDE_R, mode=Mode.SUBTRACT)
    extrude(amount=-CUT_EXTRUDE5_DEPTH, mode=Mode.SUBTRACT)


solid = part.part
